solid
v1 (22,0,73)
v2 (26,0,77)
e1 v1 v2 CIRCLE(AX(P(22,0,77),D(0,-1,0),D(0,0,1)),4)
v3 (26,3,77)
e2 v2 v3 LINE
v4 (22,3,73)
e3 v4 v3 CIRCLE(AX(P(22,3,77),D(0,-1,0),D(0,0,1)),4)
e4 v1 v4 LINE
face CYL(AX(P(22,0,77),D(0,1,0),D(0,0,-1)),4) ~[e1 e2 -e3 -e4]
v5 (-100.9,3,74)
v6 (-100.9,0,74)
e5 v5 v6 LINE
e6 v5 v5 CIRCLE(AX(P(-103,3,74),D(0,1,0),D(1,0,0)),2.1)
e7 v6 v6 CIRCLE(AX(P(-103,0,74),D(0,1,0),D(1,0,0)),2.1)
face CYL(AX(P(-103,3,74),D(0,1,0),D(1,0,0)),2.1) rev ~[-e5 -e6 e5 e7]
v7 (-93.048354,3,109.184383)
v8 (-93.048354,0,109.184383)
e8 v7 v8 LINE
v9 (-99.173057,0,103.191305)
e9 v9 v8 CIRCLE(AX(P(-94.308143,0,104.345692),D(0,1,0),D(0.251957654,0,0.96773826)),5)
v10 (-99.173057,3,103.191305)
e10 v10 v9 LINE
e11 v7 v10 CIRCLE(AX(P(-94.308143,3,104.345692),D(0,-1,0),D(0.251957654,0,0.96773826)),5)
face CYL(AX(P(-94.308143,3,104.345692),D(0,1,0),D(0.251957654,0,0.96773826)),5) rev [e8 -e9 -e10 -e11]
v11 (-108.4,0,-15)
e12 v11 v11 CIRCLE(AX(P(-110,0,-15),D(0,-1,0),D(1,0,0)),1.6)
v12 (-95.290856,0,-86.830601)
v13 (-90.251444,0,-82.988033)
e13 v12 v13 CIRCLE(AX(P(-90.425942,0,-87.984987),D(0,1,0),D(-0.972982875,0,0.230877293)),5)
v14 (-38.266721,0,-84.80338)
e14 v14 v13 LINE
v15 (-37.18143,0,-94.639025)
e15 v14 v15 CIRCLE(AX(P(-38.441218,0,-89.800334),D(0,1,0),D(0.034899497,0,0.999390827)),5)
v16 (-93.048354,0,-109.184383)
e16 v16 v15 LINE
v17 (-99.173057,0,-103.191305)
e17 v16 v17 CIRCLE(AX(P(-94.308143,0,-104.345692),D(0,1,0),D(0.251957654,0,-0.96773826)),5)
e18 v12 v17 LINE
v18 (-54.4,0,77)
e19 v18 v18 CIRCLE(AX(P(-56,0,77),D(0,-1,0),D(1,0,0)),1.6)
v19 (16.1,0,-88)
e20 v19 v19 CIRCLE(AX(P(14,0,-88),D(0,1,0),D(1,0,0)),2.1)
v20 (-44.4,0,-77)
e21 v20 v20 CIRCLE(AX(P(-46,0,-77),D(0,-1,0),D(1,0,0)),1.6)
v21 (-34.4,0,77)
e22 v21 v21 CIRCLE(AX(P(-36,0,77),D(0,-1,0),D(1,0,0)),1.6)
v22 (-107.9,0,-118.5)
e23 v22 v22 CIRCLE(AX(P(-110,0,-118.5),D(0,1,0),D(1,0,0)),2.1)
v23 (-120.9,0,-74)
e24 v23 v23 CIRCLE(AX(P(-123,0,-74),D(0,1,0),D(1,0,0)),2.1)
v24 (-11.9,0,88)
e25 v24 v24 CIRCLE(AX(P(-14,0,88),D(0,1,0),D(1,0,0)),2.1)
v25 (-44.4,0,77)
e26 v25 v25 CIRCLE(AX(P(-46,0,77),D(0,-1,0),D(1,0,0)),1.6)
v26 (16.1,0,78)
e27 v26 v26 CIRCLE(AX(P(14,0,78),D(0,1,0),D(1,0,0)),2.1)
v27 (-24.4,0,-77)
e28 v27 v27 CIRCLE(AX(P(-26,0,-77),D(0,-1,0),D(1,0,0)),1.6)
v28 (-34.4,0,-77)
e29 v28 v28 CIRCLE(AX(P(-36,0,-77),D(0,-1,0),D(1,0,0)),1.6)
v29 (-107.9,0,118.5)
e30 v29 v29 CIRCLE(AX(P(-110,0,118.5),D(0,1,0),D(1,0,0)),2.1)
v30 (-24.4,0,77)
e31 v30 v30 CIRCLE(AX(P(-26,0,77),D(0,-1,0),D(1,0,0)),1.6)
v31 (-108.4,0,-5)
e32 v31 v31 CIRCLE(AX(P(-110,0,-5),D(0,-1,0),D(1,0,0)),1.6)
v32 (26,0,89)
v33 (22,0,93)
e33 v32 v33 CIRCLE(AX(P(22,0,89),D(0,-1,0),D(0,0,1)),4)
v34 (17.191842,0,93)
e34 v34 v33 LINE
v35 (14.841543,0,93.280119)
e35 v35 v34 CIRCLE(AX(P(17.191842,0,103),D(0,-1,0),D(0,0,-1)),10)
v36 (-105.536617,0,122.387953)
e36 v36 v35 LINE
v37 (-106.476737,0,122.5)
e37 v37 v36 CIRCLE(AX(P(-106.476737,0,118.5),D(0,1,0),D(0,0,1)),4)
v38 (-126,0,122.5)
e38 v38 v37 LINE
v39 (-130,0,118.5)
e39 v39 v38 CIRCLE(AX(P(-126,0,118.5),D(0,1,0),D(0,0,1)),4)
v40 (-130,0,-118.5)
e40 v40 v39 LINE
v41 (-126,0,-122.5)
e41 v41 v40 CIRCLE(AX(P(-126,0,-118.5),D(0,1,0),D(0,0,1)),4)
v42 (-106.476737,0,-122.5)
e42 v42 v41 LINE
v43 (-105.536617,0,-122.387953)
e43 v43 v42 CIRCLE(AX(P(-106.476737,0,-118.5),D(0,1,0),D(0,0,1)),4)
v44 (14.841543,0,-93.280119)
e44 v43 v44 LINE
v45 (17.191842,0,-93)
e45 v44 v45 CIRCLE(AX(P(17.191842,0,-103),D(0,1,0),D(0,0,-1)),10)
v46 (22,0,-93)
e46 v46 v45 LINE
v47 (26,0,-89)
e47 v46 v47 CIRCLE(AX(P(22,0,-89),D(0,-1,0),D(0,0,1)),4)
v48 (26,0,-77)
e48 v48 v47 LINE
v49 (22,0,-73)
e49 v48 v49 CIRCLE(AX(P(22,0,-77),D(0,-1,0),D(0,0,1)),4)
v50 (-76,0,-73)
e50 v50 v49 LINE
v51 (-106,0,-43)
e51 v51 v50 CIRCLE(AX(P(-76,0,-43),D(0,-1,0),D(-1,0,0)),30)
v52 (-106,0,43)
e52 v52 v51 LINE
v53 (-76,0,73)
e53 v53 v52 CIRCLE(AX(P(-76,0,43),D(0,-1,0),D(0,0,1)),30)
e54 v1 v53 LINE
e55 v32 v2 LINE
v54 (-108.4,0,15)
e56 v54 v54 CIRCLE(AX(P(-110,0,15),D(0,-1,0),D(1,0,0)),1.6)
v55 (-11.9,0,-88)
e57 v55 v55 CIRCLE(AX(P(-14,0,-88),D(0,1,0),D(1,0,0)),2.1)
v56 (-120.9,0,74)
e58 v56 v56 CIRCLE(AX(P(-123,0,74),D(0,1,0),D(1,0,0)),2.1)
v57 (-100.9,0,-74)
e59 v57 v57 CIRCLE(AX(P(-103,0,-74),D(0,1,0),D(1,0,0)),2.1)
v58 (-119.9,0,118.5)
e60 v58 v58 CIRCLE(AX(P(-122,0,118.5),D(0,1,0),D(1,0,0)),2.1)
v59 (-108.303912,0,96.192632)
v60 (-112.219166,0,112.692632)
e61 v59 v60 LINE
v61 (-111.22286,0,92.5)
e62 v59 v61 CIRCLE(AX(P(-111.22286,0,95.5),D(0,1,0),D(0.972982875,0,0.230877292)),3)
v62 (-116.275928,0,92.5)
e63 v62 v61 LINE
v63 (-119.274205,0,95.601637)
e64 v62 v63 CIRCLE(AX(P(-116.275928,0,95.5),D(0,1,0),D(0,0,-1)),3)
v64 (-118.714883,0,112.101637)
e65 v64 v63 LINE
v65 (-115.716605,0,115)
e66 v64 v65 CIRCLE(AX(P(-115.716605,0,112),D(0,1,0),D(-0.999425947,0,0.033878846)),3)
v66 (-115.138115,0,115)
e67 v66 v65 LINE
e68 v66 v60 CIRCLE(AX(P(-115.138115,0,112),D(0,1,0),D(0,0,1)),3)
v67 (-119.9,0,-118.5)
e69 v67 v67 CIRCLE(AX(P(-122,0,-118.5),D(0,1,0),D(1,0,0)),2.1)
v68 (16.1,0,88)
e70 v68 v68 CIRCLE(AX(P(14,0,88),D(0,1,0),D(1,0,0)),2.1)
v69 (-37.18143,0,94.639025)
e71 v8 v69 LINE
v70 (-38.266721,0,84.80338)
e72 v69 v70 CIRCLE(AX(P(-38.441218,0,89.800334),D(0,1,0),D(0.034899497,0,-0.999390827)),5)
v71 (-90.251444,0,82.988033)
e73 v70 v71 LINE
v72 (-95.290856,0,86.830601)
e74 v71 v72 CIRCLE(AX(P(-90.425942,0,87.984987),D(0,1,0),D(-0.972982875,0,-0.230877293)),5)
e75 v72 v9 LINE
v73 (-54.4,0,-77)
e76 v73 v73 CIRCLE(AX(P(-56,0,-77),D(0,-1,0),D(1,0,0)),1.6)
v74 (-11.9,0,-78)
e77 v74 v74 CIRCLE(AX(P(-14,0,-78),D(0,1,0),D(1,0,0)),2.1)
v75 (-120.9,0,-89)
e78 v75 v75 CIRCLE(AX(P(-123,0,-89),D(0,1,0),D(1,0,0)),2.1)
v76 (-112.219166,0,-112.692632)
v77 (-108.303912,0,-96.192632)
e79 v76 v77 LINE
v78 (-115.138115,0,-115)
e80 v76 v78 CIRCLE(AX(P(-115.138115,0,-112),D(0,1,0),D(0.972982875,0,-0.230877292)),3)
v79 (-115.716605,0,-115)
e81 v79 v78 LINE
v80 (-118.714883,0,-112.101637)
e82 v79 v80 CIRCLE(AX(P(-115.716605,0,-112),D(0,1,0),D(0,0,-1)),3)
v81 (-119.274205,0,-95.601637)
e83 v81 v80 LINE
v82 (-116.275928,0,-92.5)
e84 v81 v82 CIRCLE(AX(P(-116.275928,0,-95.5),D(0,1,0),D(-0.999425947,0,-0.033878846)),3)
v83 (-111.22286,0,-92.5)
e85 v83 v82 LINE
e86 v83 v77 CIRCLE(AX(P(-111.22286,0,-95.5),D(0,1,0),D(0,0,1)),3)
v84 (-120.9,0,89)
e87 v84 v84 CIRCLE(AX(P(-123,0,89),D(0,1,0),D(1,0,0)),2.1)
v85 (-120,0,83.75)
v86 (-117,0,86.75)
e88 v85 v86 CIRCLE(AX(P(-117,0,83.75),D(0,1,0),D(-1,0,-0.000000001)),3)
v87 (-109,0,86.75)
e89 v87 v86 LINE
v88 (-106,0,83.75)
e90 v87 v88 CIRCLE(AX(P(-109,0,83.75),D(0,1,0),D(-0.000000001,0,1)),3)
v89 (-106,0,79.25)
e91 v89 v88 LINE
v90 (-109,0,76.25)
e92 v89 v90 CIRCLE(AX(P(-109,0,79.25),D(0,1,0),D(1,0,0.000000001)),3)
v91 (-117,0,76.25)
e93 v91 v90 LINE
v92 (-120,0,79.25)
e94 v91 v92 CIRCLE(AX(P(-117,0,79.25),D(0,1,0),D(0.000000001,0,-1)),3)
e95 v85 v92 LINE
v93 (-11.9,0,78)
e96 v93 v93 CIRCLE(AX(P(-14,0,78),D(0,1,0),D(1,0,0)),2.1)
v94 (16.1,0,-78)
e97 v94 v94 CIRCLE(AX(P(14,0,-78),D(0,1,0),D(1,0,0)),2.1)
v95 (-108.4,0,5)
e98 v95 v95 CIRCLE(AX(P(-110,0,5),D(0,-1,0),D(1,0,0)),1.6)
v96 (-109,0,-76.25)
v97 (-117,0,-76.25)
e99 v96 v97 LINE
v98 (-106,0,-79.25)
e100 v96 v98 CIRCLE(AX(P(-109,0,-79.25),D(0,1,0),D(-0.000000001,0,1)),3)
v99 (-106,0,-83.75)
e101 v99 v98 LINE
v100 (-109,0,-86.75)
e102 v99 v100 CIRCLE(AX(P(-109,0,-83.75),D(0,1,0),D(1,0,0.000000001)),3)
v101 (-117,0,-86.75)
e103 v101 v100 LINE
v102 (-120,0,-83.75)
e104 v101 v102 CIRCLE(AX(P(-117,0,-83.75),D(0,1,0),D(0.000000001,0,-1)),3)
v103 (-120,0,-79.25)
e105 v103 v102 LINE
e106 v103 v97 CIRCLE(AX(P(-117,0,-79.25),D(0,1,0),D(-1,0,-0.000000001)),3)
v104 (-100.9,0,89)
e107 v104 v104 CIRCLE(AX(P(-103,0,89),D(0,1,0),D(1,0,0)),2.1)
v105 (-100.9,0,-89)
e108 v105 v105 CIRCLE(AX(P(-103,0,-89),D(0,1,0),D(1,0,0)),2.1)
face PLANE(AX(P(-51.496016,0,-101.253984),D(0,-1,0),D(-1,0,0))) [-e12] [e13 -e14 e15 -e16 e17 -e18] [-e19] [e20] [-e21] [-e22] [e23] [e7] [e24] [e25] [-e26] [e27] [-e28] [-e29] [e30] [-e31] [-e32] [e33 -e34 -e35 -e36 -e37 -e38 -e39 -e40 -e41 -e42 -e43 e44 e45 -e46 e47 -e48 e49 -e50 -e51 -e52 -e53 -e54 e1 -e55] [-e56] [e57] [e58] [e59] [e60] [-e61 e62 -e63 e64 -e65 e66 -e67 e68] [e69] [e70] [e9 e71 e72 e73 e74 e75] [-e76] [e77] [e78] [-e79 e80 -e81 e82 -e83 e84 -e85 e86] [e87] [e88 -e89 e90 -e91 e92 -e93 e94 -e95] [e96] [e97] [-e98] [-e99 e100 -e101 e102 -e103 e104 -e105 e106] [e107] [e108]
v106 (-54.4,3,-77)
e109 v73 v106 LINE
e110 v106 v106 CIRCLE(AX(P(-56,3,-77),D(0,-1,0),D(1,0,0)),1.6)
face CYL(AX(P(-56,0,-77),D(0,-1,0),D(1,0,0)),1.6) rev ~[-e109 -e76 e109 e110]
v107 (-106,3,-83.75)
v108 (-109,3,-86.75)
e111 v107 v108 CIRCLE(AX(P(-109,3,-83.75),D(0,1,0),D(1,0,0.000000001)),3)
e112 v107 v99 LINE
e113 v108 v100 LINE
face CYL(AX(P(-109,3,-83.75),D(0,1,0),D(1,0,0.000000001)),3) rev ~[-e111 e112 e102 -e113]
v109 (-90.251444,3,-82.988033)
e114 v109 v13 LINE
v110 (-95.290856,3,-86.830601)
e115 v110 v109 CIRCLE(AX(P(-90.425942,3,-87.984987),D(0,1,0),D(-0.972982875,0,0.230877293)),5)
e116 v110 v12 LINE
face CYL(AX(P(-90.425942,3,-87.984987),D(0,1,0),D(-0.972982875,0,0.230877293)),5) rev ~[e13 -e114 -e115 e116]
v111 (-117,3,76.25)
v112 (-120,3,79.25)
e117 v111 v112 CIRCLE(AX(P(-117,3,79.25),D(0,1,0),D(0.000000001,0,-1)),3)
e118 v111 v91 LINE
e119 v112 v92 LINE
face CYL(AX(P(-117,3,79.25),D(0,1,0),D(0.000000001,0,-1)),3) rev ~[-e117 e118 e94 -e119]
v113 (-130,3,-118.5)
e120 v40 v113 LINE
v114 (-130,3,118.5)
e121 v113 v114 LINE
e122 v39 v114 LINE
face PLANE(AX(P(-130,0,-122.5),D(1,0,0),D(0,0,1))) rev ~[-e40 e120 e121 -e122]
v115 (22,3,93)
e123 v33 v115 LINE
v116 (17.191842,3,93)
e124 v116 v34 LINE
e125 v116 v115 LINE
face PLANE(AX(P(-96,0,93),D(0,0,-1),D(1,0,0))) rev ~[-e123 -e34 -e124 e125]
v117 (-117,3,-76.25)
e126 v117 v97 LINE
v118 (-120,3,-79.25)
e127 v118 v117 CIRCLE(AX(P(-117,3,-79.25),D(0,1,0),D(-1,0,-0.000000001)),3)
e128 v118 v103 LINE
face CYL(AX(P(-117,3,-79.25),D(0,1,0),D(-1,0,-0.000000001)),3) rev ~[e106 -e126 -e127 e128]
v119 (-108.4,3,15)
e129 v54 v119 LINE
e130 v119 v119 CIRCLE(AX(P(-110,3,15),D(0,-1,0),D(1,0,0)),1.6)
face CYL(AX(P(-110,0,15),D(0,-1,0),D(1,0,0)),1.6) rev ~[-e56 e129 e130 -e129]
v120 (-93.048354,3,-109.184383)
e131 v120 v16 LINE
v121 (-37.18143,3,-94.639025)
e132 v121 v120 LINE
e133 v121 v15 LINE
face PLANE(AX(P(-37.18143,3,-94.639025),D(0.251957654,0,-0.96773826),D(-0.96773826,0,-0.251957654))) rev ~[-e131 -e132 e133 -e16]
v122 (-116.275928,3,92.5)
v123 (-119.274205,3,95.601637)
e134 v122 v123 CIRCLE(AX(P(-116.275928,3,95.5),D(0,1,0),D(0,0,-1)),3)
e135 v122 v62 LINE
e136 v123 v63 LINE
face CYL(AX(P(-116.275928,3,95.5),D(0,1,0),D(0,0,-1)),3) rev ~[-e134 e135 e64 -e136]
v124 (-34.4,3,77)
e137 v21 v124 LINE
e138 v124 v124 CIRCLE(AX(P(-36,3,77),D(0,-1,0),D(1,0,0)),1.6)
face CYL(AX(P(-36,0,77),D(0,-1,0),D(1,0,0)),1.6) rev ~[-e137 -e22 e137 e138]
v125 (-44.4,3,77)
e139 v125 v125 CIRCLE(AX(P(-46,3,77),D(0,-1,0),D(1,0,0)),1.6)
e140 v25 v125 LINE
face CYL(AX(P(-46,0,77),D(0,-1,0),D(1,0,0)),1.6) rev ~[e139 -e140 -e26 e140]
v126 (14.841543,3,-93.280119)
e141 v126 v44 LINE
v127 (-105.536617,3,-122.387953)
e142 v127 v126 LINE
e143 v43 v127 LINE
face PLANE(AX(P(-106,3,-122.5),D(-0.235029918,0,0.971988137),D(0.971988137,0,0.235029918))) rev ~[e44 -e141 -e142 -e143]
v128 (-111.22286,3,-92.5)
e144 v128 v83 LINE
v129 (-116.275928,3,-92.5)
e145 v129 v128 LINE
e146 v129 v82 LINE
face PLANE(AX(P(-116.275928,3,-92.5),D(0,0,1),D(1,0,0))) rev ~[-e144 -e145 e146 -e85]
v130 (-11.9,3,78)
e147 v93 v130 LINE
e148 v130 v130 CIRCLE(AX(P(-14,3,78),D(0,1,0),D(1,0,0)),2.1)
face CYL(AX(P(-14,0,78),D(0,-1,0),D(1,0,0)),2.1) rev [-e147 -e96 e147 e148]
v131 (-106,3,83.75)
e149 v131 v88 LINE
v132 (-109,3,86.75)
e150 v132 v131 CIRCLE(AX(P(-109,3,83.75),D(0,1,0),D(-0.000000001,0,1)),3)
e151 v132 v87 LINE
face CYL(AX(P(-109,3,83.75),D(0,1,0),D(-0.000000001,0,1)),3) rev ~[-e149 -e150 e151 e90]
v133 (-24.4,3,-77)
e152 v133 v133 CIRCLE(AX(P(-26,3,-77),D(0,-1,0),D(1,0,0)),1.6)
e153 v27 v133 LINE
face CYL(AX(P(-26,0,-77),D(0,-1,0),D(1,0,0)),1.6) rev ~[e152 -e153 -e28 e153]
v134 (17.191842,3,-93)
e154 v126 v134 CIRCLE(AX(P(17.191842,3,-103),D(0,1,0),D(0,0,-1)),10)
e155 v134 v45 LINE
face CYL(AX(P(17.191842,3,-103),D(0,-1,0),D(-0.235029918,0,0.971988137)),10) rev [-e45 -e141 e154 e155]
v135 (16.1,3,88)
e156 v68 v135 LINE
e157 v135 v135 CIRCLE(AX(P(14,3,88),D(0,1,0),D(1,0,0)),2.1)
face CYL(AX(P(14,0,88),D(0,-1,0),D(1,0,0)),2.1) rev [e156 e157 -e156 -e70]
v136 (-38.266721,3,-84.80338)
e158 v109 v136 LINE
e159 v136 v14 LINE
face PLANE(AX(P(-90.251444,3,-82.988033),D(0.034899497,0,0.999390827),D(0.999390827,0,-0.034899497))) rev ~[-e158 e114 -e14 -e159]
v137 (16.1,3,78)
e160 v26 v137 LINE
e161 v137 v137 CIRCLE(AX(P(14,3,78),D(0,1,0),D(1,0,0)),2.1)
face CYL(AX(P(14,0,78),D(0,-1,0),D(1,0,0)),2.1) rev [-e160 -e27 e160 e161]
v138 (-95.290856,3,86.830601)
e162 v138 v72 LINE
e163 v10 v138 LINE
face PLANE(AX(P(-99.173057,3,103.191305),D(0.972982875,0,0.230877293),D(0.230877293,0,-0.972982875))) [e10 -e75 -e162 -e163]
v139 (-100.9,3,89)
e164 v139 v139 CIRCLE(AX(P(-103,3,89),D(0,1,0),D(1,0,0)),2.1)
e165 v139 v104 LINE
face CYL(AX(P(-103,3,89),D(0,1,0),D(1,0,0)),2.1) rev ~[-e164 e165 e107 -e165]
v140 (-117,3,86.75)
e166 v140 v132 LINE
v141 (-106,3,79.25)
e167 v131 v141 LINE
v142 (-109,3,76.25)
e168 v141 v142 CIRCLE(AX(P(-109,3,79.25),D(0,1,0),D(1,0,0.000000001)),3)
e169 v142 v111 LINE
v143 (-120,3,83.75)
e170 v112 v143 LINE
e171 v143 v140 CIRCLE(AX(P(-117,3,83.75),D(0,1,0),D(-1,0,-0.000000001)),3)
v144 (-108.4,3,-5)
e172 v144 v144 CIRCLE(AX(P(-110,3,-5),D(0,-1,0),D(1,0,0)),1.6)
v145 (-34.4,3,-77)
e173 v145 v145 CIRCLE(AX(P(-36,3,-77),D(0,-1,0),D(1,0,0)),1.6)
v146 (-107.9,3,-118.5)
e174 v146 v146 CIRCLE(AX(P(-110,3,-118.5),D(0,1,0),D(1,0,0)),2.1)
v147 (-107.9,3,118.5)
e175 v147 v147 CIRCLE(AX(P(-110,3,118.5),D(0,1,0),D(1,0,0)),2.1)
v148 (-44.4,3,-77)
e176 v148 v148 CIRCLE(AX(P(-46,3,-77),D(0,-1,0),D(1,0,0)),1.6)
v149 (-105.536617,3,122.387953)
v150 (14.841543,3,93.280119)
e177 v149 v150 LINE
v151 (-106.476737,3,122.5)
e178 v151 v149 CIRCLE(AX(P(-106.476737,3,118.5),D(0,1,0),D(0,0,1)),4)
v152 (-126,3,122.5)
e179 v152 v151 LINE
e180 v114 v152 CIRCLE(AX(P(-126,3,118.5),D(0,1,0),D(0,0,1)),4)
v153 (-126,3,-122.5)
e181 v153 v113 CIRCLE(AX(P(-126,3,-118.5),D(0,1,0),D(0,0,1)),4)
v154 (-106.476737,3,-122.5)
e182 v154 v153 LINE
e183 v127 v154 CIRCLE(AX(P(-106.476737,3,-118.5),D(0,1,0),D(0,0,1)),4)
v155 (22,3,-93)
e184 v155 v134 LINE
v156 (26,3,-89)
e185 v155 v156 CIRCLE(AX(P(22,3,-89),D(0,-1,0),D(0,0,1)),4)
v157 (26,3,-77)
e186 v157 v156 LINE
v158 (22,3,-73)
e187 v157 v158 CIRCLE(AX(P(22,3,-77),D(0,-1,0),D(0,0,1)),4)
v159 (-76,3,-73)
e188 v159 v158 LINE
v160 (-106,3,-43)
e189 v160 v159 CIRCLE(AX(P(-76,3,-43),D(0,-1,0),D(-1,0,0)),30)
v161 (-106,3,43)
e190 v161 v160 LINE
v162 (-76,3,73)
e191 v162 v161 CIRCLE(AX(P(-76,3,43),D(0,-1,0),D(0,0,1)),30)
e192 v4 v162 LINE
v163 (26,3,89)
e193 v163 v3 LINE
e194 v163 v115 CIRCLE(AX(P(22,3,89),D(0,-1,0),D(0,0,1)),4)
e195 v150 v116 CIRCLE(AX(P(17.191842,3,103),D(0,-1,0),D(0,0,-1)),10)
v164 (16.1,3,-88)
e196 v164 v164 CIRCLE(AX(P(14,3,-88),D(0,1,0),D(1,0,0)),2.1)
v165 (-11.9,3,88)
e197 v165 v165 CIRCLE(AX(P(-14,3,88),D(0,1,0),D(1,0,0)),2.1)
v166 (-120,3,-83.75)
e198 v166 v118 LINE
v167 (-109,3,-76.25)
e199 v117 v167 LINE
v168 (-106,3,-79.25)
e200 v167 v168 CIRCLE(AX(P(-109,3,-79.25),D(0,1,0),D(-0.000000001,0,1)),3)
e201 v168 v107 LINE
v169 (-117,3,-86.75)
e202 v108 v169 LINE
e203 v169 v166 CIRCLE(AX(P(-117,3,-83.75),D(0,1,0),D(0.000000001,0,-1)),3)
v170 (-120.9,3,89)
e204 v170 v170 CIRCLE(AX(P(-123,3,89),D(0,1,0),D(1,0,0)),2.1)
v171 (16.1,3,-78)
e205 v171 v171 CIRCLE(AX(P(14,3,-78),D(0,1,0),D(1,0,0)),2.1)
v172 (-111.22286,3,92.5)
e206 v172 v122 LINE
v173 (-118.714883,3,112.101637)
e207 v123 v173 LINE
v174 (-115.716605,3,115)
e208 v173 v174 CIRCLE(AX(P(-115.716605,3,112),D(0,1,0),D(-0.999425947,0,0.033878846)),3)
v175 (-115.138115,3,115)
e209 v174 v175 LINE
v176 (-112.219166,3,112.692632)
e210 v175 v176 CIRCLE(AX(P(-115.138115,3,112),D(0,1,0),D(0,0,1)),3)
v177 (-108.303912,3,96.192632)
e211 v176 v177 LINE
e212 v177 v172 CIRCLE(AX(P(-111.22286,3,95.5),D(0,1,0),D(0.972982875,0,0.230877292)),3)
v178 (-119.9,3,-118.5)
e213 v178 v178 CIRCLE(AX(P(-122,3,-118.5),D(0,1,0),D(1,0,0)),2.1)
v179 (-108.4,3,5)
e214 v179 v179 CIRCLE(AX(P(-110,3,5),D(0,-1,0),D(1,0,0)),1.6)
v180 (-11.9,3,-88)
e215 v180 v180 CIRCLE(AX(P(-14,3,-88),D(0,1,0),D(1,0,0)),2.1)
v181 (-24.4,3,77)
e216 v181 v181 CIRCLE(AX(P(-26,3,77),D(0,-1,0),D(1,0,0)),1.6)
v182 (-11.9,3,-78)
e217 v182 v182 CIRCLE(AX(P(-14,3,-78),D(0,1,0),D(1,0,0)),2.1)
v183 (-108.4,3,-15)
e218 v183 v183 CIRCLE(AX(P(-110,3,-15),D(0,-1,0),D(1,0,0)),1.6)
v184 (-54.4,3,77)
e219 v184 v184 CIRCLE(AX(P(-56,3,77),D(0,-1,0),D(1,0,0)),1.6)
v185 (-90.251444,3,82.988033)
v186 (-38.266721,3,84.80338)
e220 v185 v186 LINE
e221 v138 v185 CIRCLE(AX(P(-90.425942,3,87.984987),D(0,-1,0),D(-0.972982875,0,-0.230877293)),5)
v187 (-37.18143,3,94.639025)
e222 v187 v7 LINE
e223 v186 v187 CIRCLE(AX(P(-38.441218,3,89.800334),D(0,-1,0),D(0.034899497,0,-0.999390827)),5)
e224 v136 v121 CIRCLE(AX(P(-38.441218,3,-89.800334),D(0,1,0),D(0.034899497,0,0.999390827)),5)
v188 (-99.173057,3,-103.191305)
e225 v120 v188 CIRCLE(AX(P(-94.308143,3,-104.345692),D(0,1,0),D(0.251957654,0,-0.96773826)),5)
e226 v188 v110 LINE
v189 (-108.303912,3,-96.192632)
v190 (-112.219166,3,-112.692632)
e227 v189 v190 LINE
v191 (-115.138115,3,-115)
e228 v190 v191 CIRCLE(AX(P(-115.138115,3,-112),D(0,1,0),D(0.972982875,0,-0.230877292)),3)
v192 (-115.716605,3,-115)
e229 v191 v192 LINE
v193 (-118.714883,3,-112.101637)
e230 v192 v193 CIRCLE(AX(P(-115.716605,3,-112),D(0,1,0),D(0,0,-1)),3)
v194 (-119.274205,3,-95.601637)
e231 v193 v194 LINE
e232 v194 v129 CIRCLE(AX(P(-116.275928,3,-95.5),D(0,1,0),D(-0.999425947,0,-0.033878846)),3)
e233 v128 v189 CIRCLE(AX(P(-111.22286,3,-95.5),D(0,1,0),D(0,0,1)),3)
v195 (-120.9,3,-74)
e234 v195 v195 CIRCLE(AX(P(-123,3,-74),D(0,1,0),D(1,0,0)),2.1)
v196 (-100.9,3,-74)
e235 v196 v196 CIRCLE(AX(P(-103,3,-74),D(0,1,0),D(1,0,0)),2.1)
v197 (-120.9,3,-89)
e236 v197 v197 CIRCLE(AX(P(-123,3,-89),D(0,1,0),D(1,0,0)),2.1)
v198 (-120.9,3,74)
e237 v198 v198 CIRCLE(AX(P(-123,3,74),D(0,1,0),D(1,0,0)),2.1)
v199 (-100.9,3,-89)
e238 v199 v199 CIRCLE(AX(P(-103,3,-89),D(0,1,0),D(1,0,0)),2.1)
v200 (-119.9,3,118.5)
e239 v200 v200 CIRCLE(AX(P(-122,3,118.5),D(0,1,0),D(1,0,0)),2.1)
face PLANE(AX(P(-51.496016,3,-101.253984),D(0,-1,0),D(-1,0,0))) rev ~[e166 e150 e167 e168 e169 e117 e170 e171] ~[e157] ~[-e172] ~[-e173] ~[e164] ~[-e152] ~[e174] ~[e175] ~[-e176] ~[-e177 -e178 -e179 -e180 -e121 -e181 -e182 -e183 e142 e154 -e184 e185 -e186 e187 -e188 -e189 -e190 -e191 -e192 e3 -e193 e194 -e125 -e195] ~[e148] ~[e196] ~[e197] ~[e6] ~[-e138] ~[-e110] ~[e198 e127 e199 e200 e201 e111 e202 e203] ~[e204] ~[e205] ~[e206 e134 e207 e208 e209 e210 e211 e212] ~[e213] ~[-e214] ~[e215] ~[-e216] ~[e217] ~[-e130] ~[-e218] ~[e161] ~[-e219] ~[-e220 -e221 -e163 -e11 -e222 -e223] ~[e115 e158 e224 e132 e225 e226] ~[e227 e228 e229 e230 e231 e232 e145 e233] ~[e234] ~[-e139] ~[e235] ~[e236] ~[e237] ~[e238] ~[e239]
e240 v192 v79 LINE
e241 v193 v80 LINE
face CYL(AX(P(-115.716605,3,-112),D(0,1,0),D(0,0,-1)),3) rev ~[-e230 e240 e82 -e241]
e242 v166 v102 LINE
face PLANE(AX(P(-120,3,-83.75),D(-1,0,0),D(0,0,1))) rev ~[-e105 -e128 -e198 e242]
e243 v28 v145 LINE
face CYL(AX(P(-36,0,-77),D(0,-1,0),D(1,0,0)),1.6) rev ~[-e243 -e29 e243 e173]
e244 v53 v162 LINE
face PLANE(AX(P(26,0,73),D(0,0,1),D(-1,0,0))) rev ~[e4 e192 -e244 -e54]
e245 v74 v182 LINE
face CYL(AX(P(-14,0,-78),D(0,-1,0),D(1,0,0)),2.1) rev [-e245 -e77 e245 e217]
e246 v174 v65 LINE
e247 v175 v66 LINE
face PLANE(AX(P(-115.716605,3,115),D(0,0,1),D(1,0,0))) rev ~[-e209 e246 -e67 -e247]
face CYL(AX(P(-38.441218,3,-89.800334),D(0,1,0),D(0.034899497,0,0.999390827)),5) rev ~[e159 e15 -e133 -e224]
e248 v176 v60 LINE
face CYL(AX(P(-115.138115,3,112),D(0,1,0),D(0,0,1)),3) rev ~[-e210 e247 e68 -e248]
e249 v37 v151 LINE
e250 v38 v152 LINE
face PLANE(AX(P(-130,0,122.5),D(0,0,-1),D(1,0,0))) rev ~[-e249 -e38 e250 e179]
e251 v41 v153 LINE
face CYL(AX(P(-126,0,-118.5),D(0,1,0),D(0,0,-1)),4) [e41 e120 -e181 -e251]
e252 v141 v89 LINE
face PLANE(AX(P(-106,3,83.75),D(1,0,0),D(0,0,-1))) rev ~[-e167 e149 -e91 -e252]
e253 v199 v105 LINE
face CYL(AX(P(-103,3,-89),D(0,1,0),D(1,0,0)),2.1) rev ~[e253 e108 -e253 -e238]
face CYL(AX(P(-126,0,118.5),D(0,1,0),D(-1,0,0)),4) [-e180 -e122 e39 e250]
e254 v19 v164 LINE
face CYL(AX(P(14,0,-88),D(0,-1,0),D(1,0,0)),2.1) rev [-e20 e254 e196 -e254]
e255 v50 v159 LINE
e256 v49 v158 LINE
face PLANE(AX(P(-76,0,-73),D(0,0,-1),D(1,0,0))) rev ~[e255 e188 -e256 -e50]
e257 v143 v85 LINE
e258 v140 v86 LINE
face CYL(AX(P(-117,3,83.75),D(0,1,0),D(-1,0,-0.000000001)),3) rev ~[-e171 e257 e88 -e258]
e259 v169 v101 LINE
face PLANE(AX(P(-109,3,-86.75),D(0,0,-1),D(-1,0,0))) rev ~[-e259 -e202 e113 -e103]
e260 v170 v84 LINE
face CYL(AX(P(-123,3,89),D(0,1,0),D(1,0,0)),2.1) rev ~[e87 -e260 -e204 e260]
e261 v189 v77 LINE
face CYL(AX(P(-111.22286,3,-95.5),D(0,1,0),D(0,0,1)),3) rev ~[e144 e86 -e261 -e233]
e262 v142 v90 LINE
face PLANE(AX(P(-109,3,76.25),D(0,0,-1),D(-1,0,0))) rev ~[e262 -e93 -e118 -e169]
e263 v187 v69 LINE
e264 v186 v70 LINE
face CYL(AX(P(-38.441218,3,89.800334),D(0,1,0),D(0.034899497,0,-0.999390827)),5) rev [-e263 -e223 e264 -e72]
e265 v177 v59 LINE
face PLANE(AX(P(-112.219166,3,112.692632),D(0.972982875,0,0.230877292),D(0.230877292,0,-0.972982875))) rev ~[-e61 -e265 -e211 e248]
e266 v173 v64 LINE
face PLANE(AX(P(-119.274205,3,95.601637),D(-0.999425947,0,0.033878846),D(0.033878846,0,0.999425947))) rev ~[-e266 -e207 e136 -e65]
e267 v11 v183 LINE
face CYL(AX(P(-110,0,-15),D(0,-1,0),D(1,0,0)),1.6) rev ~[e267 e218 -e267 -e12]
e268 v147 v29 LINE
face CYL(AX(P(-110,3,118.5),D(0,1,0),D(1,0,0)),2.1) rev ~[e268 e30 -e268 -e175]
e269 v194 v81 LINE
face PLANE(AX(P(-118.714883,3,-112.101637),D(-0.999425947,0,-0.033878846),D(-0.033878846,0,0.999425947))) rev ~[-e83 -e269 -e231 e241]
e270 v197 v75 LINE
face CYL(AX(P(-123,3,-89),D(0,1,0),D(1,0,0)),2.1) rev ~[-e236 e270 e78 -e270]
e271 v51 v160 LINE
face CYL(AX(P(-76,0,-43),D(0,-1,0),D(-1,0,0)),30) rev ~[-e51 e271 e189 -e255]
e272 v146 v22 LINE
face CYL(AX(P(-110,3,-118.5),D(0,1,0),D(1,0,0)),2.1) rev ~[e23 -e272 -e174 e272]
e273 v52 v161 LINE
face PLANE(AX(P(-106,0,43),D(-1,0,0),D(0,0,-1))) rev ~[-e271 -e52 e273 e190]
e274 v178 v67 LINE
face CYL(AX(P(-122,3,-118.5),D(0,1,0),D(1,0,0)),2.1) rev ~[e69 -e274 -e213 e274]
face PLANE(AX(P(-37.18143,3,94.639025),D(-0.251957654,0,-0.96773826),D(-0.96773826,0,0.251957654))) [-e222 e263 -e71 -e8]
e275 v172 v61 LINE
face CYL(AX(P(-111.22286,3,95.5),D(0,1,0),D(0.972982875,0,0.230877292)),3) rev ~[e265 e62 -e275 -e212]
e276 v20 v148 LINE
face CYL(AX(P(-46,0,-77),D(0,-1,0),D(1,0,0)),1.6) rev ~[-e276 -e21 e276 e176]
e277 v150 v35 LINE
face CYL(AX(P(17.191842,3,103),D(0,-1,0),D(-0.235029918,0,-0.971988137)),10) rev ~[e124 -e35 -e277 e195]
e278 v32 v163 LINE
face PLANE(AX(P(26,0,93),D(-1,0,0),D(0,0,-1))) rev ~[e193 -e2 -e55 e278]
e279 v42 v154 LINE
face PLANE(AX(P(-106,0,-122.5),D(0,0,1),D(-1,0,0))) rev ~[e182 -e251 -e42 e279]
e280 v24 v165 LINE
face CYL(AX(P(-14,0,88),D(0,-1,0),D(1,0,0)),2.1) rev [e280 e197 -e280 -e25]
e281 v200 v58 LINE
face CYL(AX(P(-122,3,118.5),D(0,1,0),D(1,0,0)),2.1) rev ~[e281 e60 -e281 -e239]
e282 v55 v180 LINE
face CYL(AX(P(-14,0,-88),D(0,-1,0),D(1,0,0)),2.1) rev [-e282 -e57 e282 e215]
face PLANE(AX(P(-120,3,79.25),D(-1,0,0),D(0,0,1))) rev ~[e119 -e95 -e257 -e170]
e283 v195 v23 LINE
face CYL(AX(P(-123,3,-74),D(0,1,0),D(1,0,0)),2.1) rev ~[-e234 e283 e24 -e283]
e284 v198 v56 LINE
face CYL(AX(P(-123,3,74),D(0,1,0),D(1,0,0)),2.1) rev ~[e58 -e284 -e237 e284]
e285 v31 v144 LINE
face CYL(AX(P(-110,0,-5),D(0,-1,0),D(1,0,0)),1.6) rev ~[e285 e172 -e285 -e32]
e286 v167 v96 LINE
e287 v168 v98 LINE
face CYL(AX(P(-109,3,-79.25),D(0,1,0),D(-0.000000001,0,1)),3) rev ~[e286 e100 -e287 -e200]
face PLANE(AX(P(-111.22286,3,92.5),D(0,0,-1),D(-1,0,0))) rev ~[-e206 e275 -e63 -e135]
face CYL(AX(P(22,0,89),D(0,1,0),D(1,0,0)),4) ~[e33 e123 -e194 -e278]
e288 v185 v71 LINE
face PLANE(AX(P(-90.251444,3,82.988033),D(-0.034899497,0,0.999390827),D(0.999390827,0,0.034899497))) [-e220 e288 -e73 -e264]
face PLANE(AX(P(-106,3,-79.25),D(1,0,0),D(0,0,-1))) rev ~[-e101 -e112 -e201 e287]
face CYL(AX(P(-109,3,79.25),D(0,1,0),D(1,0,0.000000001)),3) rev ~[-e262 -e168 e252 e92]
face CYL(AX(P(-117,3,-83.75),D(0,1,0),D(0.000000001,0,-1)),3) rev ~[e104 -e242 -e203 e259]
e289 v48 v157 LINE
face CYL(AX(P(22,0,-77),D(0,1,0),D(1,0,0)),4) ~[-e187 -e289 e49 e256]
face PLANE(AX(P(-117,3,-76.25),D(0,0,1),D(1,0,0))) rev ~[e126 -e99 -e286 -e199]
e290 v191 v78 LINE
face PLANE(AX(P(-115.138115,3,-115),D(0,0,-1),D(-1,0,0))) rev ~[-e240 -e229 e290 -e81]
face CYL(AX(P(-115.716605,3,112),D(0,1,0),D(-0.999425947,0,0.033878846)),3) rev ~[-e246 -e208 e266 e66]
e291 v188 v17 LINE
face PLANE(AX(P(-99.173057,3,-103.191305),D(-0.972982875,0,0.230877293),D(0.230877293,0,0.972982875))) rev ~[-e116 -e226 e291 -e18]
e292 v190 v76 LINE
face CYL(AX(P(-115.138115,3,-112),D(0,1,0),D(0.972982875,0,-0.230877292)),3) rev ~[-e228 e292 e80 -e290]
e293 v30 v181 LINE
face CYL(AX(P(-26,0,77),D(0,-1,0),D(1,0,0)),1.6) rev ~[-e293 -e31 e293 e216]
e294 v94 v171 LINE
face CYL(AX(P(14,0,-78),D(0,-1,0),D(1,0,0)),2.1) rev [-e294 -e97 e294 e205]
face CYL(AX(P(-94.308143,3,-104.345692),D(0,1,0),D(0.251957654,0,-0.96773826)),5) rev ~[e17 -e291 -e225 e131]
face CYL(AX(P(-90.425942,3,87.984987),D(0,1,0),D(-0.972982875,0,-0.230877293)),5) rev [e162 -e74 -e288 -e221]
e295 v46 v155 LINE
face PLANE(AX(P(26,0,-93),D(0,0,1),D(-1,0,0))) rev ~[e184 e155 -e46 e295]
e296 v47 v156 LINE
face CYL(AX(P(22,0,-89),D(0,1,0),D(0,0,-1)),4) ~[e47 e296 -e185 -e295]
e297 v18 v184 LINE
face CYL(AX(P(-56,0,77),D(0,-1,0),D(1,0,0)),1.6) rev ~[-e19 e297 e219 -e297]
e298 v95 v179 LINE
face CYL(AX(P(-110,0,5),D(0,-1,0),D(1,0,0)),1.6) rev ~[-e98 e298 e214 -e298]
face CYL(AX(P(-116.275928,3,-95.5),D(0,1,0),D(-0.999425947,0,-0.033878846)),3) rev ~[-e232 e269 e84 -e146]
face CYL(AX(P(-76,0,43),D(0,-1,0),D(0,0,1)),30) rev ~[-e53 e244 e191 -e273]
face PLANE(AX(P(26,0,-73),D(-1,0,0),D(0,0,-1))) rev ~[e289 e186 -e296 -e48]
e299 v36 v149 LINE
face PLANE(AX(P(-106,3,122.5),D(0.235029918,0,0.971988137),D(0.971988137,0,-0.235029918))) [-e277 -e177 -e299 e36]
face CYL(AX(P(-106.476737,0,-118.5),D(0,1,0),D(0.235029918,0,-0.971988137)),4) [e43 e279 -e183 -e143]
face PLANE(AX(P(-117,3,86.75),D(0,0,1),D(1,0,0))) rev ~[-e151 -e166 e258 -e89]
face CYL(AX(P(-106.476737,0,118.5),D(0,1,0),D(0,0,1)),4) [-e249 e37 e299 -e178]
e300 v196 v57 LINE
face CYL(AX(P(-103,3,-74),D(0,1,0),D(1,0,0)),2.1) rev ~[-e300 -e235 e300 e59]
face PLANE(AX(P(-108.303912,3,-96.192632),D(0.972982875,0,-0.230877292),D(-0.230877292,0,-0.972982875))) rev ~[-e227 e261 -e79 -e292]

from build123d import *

# Parameters (mm, degrees)
SKETCH_1_R          = 2.1
EXTRUDE_1_DEPTH     = 3
FILLET_1_R          = 4
SKETCH_2_R          = 2.1
CUT_EXTRUDE_1_DEPTH = 4
EXTRUDE_2_DEPTH     = 3
FILLET_2_R          = 4
SKETCH_5_R          = 1.6
CUT_EXTRUDE_2_DEPTH = 4
FILLET_3_R          = 10
SKETCH_7_R          = 2.1
CUT_EXTRUDE_3_DEPTH = 4
CUT_EXTRUDE_4_DEPTH = 4


with BuildPart() as part:
    # 草图1 → 凸台-拉伸1 (new body)
    with BuildSketch(Plane(origin=(0, 0, 0), x_dir=(1, 0, 0), z_dir=(0, 1, 0))):
        with BuildLine():
            Line((-26, 93), (-96, 93))
            ThreePointArc((-96, 93), (-103.071067812, 95.928932188), (-106, 103))
            Line((-106, 103), (-106, 122.5))
            Line((-106, 122.5), (-130, 122.5))
            Line((-130, 122.5), (-130, -122.5))
            Line((-130, -122.5), (-106, -122.5))
            Line((-106, -122.5), (-106, -103))
            ThreePointArc((-106, -103), (-103.071067812, -95.928932188), (-96, -93))
            Line((-96, -93), (-26, -93))
            Line((-26, -93), (26, -93))
            Line((26, -93), (26, -73))
            Line((26, -73), (-76, -73))
            ThreePointArc((-76, -73), (-97.213203436, -64.213203436), (-106, -43))
            Line((-106, -43), (-106, 43))
            ThreePointArc((-106, 43), (-97.213203436, 64.213203436), (-76, 73))
            Line((-76, 73), (26, 73))
            Line((26, 73), (26, 93))
            Line((26, 93), (-26, 93))
        make_face()
        with Locations((-14, 88)):
            Circle(SKETCH_1_R, mode=Mode.SUBTRACT)
        with Locations((-14, 78)):
            Circle(SKETCH_1_R, mode=Mode.SUBTRACT)
        with Locations((14, 78)):
            Circle(SKETCH_1_R, mode=Mode.SUBTRACT)
        with Locations((14, 88)):
            Circle(SKETCH_1_R, mode=Mode.SUBTRACT)
        with Locations((14, -78)):
            Circle(SKETCH_1_R, mode=Mode.SUBTRACT)
        with Locations((14, -88)):
            Circle(SKETCH_1_R, mode=Mode.SUBTRACT)
        with Locations((-14, -78)):
            Circle(SKETCH_1_R, mode=Mode.SUBTRACT)
        with Locations((-14, -88)):
            Circle(SKETCH_1_R, mode=Mode.SUBTRACT)
    extrude(amount=EXTRUDE_1_DEPTH)

    # 圆角1
    fillet_1_edges = [part.edges().sort_by_distance(p)[0] for p in [
        (26, 1.5, -73),
        (26, 1.5, 73),
        (-130, 1.5, 122.5),
        (-130, 1.5, -122.5),
    ]]
    fillet(fillet_1_edges, radius=FILLET_1_R)

    # 草图2 → 切除-拉伸1 (cut, through all)
    with BuildSketch(Plane(origin=(0, 3, 0), x_dir=(1, 0, 0), z_dir=(0, 1, 0))):
        with Locations((-122, 118.5)):
            Circle(SKETCH_2_R)
        with Locations((-110, 118.5)):
            Circle(SKETCH_2_R)
        with Locations((-122, -118.5)):
            Circle(SKETCH_2_R)
        with Locations((-110, -118.5)):
            Circle(SKETCH_2_R)
    extrude(amount=-CUT_EXTRUDE_1_DEPTH, mode=Mode.SUBTRACT)

    # 草图4 → 凸台-拉伸2 (add)
    with BuildSketch(Plane(origin=(0, 3, 0), x_dir=(1, 0, 0), z_dir=(0, 1, 0))):
        Polygon((-106, 122.5), (16, 93), (-106, 93), align=None)
        Polygon((16, -93), (-106, -93), (-106, -122.5), align=None)
    extrude(amount=-EXTRUDE_2_DEPTH)

    # 圆角2
    fillet_2_edges = [part.edges().sort_by_distance(p)[0] for p in [
        (26, 1.5, 93),
        (-106, 1.5, 122.5),
        (-106, 1.5, -122.5),
        (26, 1.5, -93),
    ]]
    fillet(fillet_2_edges, radius=FILLET_2_R)

    # 草图5 → 切除-拉伸2 (cut, through all)
    with BuildSketch(Plane.XZ):
        with Locations((-110, -15)):
            Circle(SKETCH_5_R)
        with Locations((-110, -5)):
            Circle(SKETCH_5_R)
        with Locations((-110, 5)):
            Circle(SKETCH_5_R)
        with Locations((-110, 15)):
            Circle(SKETCH_5_R)
        with Locations((-26, -77)):
            Circle(SKETCH_5_R)
        with Locations((-36, -77)):
            Circle(SKETCH_5_R)
        with Locations((-46, -77)):
            Circle(SKETCH_5_R)
        with Locations((-56, -77)):
            Circle(SKETCH_5_R)
        with Locations((-56, 77)):
            Circle(SKETCH_5_R)
        with Locations((-46, 77)):
            Circle(SKETCH_5_R)
        with Locations((-36, 77)):
            Circle(SKETCH_5_R)
        with Locations((-26, 77)):
            Circle(SKETCH_5_R)
    extrude(amount=-CUT_EXTRUDE_2_DEPTH, mode=Mode.SUBTRACT)

    # 圆角3
    fillet_3_edges = [part.edges().sort_by_distance(p)[0] for p in [
        (16, 1.5, -93),
        (16, 1.5, 93),
    ]]
    fillet(fillet_3_edges, radius=FILLET_3_R)

    # 草图7 → 切除-拉伸3 (cut, through all)
    with BuildSketch(Plane(origin=(0, 3, 0), x_dir=(1, 0, 0), z_dir=(0, 1, 0))):
        with Locations((-123, -74)):
            Circle(SKETCH_7_R)
        with Locations((-103, -74)):
            Circle(SKETCH_7_R)
        with Locations((-103, -89)):
            Circle(SKETCH_7_R)
        with Locations((-123, -89)):
            Circle(SKETCH_7_R)
        with Locations((-123, 89)):
            Circle(SKETCH_7_R)
        with Locations((-103, 89)):
            Circle(SKETCH_7_R)
        with Locations((-103, 74)):
            Circle(SKETCH_7_R)
        with Locations((-123, 74)):
            Circle(SKETCH_7_R)
    extrude(amount=-CUT_EXTRUDE_3_DEPTH, mode=Mode.SUBTRACT)

    # 草图8 → 切除-拉伸4 (cut, through all)
    with BuildSketch(Plane(origin=(0, 3, 0), x_dir=(1, 0, 0), z_dir=(0, 1, 0))):
        with BuildLine():
            Line((-99.173057144, 103.191305263), (-95.290856101, 86.83060087))
            ThreePointArc((-95.290856101, 86.83060087), (-93.457663057, 84.008976045), (-90.251444241, 82.988033197))
            Line((-90.251444241, 82.988033197), (-38.266720564, 84.80337975))
            ThreePointArc((-38.266720564, 84.80337975), (-33.471381612, 89.251949162), (-37.181429777, 94.639025187))
            Line((-37.181429777, 94.639025187), (-93.048354496, 109.184383027))
            ThreePointArc((-93.048354496, 109.184383027), (-97.805066963, 107.919418235), (-99.173057144, 103.191305263))
        make_face()
        with BuildLine():
            Line((-109, 86.75), (-117, 86.75))
            ThreePointArc((-117, 86.75), (-119.121320344, 85.871320344), (-120, 83.75))
            Line((-120, 83.75), (-120, 79.25))
            ThreePointArc((-120, 79.25), (-119.121320344, 77.128679656), (-117, 76.25))
            Line((-117, 76.25), (-109, 76.25))
            ThreePointArc((-109, 76.25), (-106.878679656, 77.128679656), (-106, 79.25))
            Line((-106, 79.25), (-106, 83.75))
            ThreePointArc((-106, 83.75), (-106.878679656, 85.871320344), (-109, 86.75))
        make_face()
        with BuildLine():
            Line((-109, -76.25), (-117, -76.25))
            ThreePointArc((-117, -76.25), (-119.121320344, -77.128679656), (-120, -79.25))
            Line((-120, -79.25), (-120, -83.75))
            ThreePointArc((-120, -83.75), (-119.121320344, -85.871320344), (-117, -86.75))
            Line((-117, -86.75), (-109, -86.75))
            ThreePointArc((-109, -86.75), (-106.878679656, -85.871320344), (-106, -83.75))
            Line((-106, -83.75), (-106, -79.25))
            ThreePointArc((-106, -79.25), (-106.878679656, -77.128679656), (-109, -76.25))
        make_face()
        with BuildLine():
            Line((-115.138114684, 115), (-115.716605496, 115))
            ThreePointArc((-115.716605496, 115), (-117.80168228, 114.156954985), (-118.714883338, 112.101636537))
            Line((-118.714883338, 112.101636537), (-119.274205372, 95.601636537))
            ThreePointArc((-119.274205372, 95.601636537), (-118.432882515, 93.414923216), (-116.27592753, 92.5))
            Line((-116.27592753, 92.5), (-111.222860446, 92.5))
            ThreePointArc((-111.222860446, 92.5), (-108.869363513, 93.639609669), (-108.30391182, 96.192631877))
            Line((-108.30391182, 96.192631877), (-112.219166057, 112.692631877))
            ThreePointArc((-112.219166057, 112.692631877), (-113.277724353, 114.353496934), (-115.138114684, 115))
        make_face()
        with BuildLine():
            Line((-37.181429777, -94.639025187), (-93.048354496, -109.184383027))
            ThreePointArc((-93.048354496, -109.184383027), (-97.805066963, -107.919418235), (-99.173057144, -103.191305263))
            Line((-99.173057144, -103.191305263), (-95.290856101, -86.83060087))
            ThreePointArc((-95.290856101, -86.83060087), (-93.457663057, -84.008976045), (-90.251444241, -82.988033197))
            Line((-90.251444241, -82.988033197), (-38.266720564, -84.80337975))
            ThreePointArc((-38.266720564, -84.80337975), (-33.471381612, -89.251949162), (-37.181429777, -94.639025187))
        make_face()
        with BuildLine():
            Line((-112.219166057, -112.692631877), (-108.30391182, -96.192631877))
            ThreePointArc((-108.30391182, -96.192631877), (-108.869363513, -93.639609669), (-111.222860446, -92.5))
            Line((-111.222860446, -92.5), (-116.27592753, -92.5))
            ThreePointArc((-116.27592753, -92.5), (-118.432882515, -93.414923216), (-119.274205372, -95.601636537))
            Line((-119.274205372, -95.601636537), (-118.714883338, -112.101636537))
            ThreePointArc((-118.714883338, -112.101636537), (-117.80168228, -114.156954985), (-115.716605496, -115))
            Line((-115.716605496, -115), (-115.138114684, -115))
            ThreePointArc((-115.138114684, -115), (-113.277724353, -114.353496934), (-112.219166057, -112.692631877))
        make_face()
    extrude(amount=-CUT_EXTRUDE_4_DEPTH, mode=Mode.SUBTRACT)


solid = part.part
